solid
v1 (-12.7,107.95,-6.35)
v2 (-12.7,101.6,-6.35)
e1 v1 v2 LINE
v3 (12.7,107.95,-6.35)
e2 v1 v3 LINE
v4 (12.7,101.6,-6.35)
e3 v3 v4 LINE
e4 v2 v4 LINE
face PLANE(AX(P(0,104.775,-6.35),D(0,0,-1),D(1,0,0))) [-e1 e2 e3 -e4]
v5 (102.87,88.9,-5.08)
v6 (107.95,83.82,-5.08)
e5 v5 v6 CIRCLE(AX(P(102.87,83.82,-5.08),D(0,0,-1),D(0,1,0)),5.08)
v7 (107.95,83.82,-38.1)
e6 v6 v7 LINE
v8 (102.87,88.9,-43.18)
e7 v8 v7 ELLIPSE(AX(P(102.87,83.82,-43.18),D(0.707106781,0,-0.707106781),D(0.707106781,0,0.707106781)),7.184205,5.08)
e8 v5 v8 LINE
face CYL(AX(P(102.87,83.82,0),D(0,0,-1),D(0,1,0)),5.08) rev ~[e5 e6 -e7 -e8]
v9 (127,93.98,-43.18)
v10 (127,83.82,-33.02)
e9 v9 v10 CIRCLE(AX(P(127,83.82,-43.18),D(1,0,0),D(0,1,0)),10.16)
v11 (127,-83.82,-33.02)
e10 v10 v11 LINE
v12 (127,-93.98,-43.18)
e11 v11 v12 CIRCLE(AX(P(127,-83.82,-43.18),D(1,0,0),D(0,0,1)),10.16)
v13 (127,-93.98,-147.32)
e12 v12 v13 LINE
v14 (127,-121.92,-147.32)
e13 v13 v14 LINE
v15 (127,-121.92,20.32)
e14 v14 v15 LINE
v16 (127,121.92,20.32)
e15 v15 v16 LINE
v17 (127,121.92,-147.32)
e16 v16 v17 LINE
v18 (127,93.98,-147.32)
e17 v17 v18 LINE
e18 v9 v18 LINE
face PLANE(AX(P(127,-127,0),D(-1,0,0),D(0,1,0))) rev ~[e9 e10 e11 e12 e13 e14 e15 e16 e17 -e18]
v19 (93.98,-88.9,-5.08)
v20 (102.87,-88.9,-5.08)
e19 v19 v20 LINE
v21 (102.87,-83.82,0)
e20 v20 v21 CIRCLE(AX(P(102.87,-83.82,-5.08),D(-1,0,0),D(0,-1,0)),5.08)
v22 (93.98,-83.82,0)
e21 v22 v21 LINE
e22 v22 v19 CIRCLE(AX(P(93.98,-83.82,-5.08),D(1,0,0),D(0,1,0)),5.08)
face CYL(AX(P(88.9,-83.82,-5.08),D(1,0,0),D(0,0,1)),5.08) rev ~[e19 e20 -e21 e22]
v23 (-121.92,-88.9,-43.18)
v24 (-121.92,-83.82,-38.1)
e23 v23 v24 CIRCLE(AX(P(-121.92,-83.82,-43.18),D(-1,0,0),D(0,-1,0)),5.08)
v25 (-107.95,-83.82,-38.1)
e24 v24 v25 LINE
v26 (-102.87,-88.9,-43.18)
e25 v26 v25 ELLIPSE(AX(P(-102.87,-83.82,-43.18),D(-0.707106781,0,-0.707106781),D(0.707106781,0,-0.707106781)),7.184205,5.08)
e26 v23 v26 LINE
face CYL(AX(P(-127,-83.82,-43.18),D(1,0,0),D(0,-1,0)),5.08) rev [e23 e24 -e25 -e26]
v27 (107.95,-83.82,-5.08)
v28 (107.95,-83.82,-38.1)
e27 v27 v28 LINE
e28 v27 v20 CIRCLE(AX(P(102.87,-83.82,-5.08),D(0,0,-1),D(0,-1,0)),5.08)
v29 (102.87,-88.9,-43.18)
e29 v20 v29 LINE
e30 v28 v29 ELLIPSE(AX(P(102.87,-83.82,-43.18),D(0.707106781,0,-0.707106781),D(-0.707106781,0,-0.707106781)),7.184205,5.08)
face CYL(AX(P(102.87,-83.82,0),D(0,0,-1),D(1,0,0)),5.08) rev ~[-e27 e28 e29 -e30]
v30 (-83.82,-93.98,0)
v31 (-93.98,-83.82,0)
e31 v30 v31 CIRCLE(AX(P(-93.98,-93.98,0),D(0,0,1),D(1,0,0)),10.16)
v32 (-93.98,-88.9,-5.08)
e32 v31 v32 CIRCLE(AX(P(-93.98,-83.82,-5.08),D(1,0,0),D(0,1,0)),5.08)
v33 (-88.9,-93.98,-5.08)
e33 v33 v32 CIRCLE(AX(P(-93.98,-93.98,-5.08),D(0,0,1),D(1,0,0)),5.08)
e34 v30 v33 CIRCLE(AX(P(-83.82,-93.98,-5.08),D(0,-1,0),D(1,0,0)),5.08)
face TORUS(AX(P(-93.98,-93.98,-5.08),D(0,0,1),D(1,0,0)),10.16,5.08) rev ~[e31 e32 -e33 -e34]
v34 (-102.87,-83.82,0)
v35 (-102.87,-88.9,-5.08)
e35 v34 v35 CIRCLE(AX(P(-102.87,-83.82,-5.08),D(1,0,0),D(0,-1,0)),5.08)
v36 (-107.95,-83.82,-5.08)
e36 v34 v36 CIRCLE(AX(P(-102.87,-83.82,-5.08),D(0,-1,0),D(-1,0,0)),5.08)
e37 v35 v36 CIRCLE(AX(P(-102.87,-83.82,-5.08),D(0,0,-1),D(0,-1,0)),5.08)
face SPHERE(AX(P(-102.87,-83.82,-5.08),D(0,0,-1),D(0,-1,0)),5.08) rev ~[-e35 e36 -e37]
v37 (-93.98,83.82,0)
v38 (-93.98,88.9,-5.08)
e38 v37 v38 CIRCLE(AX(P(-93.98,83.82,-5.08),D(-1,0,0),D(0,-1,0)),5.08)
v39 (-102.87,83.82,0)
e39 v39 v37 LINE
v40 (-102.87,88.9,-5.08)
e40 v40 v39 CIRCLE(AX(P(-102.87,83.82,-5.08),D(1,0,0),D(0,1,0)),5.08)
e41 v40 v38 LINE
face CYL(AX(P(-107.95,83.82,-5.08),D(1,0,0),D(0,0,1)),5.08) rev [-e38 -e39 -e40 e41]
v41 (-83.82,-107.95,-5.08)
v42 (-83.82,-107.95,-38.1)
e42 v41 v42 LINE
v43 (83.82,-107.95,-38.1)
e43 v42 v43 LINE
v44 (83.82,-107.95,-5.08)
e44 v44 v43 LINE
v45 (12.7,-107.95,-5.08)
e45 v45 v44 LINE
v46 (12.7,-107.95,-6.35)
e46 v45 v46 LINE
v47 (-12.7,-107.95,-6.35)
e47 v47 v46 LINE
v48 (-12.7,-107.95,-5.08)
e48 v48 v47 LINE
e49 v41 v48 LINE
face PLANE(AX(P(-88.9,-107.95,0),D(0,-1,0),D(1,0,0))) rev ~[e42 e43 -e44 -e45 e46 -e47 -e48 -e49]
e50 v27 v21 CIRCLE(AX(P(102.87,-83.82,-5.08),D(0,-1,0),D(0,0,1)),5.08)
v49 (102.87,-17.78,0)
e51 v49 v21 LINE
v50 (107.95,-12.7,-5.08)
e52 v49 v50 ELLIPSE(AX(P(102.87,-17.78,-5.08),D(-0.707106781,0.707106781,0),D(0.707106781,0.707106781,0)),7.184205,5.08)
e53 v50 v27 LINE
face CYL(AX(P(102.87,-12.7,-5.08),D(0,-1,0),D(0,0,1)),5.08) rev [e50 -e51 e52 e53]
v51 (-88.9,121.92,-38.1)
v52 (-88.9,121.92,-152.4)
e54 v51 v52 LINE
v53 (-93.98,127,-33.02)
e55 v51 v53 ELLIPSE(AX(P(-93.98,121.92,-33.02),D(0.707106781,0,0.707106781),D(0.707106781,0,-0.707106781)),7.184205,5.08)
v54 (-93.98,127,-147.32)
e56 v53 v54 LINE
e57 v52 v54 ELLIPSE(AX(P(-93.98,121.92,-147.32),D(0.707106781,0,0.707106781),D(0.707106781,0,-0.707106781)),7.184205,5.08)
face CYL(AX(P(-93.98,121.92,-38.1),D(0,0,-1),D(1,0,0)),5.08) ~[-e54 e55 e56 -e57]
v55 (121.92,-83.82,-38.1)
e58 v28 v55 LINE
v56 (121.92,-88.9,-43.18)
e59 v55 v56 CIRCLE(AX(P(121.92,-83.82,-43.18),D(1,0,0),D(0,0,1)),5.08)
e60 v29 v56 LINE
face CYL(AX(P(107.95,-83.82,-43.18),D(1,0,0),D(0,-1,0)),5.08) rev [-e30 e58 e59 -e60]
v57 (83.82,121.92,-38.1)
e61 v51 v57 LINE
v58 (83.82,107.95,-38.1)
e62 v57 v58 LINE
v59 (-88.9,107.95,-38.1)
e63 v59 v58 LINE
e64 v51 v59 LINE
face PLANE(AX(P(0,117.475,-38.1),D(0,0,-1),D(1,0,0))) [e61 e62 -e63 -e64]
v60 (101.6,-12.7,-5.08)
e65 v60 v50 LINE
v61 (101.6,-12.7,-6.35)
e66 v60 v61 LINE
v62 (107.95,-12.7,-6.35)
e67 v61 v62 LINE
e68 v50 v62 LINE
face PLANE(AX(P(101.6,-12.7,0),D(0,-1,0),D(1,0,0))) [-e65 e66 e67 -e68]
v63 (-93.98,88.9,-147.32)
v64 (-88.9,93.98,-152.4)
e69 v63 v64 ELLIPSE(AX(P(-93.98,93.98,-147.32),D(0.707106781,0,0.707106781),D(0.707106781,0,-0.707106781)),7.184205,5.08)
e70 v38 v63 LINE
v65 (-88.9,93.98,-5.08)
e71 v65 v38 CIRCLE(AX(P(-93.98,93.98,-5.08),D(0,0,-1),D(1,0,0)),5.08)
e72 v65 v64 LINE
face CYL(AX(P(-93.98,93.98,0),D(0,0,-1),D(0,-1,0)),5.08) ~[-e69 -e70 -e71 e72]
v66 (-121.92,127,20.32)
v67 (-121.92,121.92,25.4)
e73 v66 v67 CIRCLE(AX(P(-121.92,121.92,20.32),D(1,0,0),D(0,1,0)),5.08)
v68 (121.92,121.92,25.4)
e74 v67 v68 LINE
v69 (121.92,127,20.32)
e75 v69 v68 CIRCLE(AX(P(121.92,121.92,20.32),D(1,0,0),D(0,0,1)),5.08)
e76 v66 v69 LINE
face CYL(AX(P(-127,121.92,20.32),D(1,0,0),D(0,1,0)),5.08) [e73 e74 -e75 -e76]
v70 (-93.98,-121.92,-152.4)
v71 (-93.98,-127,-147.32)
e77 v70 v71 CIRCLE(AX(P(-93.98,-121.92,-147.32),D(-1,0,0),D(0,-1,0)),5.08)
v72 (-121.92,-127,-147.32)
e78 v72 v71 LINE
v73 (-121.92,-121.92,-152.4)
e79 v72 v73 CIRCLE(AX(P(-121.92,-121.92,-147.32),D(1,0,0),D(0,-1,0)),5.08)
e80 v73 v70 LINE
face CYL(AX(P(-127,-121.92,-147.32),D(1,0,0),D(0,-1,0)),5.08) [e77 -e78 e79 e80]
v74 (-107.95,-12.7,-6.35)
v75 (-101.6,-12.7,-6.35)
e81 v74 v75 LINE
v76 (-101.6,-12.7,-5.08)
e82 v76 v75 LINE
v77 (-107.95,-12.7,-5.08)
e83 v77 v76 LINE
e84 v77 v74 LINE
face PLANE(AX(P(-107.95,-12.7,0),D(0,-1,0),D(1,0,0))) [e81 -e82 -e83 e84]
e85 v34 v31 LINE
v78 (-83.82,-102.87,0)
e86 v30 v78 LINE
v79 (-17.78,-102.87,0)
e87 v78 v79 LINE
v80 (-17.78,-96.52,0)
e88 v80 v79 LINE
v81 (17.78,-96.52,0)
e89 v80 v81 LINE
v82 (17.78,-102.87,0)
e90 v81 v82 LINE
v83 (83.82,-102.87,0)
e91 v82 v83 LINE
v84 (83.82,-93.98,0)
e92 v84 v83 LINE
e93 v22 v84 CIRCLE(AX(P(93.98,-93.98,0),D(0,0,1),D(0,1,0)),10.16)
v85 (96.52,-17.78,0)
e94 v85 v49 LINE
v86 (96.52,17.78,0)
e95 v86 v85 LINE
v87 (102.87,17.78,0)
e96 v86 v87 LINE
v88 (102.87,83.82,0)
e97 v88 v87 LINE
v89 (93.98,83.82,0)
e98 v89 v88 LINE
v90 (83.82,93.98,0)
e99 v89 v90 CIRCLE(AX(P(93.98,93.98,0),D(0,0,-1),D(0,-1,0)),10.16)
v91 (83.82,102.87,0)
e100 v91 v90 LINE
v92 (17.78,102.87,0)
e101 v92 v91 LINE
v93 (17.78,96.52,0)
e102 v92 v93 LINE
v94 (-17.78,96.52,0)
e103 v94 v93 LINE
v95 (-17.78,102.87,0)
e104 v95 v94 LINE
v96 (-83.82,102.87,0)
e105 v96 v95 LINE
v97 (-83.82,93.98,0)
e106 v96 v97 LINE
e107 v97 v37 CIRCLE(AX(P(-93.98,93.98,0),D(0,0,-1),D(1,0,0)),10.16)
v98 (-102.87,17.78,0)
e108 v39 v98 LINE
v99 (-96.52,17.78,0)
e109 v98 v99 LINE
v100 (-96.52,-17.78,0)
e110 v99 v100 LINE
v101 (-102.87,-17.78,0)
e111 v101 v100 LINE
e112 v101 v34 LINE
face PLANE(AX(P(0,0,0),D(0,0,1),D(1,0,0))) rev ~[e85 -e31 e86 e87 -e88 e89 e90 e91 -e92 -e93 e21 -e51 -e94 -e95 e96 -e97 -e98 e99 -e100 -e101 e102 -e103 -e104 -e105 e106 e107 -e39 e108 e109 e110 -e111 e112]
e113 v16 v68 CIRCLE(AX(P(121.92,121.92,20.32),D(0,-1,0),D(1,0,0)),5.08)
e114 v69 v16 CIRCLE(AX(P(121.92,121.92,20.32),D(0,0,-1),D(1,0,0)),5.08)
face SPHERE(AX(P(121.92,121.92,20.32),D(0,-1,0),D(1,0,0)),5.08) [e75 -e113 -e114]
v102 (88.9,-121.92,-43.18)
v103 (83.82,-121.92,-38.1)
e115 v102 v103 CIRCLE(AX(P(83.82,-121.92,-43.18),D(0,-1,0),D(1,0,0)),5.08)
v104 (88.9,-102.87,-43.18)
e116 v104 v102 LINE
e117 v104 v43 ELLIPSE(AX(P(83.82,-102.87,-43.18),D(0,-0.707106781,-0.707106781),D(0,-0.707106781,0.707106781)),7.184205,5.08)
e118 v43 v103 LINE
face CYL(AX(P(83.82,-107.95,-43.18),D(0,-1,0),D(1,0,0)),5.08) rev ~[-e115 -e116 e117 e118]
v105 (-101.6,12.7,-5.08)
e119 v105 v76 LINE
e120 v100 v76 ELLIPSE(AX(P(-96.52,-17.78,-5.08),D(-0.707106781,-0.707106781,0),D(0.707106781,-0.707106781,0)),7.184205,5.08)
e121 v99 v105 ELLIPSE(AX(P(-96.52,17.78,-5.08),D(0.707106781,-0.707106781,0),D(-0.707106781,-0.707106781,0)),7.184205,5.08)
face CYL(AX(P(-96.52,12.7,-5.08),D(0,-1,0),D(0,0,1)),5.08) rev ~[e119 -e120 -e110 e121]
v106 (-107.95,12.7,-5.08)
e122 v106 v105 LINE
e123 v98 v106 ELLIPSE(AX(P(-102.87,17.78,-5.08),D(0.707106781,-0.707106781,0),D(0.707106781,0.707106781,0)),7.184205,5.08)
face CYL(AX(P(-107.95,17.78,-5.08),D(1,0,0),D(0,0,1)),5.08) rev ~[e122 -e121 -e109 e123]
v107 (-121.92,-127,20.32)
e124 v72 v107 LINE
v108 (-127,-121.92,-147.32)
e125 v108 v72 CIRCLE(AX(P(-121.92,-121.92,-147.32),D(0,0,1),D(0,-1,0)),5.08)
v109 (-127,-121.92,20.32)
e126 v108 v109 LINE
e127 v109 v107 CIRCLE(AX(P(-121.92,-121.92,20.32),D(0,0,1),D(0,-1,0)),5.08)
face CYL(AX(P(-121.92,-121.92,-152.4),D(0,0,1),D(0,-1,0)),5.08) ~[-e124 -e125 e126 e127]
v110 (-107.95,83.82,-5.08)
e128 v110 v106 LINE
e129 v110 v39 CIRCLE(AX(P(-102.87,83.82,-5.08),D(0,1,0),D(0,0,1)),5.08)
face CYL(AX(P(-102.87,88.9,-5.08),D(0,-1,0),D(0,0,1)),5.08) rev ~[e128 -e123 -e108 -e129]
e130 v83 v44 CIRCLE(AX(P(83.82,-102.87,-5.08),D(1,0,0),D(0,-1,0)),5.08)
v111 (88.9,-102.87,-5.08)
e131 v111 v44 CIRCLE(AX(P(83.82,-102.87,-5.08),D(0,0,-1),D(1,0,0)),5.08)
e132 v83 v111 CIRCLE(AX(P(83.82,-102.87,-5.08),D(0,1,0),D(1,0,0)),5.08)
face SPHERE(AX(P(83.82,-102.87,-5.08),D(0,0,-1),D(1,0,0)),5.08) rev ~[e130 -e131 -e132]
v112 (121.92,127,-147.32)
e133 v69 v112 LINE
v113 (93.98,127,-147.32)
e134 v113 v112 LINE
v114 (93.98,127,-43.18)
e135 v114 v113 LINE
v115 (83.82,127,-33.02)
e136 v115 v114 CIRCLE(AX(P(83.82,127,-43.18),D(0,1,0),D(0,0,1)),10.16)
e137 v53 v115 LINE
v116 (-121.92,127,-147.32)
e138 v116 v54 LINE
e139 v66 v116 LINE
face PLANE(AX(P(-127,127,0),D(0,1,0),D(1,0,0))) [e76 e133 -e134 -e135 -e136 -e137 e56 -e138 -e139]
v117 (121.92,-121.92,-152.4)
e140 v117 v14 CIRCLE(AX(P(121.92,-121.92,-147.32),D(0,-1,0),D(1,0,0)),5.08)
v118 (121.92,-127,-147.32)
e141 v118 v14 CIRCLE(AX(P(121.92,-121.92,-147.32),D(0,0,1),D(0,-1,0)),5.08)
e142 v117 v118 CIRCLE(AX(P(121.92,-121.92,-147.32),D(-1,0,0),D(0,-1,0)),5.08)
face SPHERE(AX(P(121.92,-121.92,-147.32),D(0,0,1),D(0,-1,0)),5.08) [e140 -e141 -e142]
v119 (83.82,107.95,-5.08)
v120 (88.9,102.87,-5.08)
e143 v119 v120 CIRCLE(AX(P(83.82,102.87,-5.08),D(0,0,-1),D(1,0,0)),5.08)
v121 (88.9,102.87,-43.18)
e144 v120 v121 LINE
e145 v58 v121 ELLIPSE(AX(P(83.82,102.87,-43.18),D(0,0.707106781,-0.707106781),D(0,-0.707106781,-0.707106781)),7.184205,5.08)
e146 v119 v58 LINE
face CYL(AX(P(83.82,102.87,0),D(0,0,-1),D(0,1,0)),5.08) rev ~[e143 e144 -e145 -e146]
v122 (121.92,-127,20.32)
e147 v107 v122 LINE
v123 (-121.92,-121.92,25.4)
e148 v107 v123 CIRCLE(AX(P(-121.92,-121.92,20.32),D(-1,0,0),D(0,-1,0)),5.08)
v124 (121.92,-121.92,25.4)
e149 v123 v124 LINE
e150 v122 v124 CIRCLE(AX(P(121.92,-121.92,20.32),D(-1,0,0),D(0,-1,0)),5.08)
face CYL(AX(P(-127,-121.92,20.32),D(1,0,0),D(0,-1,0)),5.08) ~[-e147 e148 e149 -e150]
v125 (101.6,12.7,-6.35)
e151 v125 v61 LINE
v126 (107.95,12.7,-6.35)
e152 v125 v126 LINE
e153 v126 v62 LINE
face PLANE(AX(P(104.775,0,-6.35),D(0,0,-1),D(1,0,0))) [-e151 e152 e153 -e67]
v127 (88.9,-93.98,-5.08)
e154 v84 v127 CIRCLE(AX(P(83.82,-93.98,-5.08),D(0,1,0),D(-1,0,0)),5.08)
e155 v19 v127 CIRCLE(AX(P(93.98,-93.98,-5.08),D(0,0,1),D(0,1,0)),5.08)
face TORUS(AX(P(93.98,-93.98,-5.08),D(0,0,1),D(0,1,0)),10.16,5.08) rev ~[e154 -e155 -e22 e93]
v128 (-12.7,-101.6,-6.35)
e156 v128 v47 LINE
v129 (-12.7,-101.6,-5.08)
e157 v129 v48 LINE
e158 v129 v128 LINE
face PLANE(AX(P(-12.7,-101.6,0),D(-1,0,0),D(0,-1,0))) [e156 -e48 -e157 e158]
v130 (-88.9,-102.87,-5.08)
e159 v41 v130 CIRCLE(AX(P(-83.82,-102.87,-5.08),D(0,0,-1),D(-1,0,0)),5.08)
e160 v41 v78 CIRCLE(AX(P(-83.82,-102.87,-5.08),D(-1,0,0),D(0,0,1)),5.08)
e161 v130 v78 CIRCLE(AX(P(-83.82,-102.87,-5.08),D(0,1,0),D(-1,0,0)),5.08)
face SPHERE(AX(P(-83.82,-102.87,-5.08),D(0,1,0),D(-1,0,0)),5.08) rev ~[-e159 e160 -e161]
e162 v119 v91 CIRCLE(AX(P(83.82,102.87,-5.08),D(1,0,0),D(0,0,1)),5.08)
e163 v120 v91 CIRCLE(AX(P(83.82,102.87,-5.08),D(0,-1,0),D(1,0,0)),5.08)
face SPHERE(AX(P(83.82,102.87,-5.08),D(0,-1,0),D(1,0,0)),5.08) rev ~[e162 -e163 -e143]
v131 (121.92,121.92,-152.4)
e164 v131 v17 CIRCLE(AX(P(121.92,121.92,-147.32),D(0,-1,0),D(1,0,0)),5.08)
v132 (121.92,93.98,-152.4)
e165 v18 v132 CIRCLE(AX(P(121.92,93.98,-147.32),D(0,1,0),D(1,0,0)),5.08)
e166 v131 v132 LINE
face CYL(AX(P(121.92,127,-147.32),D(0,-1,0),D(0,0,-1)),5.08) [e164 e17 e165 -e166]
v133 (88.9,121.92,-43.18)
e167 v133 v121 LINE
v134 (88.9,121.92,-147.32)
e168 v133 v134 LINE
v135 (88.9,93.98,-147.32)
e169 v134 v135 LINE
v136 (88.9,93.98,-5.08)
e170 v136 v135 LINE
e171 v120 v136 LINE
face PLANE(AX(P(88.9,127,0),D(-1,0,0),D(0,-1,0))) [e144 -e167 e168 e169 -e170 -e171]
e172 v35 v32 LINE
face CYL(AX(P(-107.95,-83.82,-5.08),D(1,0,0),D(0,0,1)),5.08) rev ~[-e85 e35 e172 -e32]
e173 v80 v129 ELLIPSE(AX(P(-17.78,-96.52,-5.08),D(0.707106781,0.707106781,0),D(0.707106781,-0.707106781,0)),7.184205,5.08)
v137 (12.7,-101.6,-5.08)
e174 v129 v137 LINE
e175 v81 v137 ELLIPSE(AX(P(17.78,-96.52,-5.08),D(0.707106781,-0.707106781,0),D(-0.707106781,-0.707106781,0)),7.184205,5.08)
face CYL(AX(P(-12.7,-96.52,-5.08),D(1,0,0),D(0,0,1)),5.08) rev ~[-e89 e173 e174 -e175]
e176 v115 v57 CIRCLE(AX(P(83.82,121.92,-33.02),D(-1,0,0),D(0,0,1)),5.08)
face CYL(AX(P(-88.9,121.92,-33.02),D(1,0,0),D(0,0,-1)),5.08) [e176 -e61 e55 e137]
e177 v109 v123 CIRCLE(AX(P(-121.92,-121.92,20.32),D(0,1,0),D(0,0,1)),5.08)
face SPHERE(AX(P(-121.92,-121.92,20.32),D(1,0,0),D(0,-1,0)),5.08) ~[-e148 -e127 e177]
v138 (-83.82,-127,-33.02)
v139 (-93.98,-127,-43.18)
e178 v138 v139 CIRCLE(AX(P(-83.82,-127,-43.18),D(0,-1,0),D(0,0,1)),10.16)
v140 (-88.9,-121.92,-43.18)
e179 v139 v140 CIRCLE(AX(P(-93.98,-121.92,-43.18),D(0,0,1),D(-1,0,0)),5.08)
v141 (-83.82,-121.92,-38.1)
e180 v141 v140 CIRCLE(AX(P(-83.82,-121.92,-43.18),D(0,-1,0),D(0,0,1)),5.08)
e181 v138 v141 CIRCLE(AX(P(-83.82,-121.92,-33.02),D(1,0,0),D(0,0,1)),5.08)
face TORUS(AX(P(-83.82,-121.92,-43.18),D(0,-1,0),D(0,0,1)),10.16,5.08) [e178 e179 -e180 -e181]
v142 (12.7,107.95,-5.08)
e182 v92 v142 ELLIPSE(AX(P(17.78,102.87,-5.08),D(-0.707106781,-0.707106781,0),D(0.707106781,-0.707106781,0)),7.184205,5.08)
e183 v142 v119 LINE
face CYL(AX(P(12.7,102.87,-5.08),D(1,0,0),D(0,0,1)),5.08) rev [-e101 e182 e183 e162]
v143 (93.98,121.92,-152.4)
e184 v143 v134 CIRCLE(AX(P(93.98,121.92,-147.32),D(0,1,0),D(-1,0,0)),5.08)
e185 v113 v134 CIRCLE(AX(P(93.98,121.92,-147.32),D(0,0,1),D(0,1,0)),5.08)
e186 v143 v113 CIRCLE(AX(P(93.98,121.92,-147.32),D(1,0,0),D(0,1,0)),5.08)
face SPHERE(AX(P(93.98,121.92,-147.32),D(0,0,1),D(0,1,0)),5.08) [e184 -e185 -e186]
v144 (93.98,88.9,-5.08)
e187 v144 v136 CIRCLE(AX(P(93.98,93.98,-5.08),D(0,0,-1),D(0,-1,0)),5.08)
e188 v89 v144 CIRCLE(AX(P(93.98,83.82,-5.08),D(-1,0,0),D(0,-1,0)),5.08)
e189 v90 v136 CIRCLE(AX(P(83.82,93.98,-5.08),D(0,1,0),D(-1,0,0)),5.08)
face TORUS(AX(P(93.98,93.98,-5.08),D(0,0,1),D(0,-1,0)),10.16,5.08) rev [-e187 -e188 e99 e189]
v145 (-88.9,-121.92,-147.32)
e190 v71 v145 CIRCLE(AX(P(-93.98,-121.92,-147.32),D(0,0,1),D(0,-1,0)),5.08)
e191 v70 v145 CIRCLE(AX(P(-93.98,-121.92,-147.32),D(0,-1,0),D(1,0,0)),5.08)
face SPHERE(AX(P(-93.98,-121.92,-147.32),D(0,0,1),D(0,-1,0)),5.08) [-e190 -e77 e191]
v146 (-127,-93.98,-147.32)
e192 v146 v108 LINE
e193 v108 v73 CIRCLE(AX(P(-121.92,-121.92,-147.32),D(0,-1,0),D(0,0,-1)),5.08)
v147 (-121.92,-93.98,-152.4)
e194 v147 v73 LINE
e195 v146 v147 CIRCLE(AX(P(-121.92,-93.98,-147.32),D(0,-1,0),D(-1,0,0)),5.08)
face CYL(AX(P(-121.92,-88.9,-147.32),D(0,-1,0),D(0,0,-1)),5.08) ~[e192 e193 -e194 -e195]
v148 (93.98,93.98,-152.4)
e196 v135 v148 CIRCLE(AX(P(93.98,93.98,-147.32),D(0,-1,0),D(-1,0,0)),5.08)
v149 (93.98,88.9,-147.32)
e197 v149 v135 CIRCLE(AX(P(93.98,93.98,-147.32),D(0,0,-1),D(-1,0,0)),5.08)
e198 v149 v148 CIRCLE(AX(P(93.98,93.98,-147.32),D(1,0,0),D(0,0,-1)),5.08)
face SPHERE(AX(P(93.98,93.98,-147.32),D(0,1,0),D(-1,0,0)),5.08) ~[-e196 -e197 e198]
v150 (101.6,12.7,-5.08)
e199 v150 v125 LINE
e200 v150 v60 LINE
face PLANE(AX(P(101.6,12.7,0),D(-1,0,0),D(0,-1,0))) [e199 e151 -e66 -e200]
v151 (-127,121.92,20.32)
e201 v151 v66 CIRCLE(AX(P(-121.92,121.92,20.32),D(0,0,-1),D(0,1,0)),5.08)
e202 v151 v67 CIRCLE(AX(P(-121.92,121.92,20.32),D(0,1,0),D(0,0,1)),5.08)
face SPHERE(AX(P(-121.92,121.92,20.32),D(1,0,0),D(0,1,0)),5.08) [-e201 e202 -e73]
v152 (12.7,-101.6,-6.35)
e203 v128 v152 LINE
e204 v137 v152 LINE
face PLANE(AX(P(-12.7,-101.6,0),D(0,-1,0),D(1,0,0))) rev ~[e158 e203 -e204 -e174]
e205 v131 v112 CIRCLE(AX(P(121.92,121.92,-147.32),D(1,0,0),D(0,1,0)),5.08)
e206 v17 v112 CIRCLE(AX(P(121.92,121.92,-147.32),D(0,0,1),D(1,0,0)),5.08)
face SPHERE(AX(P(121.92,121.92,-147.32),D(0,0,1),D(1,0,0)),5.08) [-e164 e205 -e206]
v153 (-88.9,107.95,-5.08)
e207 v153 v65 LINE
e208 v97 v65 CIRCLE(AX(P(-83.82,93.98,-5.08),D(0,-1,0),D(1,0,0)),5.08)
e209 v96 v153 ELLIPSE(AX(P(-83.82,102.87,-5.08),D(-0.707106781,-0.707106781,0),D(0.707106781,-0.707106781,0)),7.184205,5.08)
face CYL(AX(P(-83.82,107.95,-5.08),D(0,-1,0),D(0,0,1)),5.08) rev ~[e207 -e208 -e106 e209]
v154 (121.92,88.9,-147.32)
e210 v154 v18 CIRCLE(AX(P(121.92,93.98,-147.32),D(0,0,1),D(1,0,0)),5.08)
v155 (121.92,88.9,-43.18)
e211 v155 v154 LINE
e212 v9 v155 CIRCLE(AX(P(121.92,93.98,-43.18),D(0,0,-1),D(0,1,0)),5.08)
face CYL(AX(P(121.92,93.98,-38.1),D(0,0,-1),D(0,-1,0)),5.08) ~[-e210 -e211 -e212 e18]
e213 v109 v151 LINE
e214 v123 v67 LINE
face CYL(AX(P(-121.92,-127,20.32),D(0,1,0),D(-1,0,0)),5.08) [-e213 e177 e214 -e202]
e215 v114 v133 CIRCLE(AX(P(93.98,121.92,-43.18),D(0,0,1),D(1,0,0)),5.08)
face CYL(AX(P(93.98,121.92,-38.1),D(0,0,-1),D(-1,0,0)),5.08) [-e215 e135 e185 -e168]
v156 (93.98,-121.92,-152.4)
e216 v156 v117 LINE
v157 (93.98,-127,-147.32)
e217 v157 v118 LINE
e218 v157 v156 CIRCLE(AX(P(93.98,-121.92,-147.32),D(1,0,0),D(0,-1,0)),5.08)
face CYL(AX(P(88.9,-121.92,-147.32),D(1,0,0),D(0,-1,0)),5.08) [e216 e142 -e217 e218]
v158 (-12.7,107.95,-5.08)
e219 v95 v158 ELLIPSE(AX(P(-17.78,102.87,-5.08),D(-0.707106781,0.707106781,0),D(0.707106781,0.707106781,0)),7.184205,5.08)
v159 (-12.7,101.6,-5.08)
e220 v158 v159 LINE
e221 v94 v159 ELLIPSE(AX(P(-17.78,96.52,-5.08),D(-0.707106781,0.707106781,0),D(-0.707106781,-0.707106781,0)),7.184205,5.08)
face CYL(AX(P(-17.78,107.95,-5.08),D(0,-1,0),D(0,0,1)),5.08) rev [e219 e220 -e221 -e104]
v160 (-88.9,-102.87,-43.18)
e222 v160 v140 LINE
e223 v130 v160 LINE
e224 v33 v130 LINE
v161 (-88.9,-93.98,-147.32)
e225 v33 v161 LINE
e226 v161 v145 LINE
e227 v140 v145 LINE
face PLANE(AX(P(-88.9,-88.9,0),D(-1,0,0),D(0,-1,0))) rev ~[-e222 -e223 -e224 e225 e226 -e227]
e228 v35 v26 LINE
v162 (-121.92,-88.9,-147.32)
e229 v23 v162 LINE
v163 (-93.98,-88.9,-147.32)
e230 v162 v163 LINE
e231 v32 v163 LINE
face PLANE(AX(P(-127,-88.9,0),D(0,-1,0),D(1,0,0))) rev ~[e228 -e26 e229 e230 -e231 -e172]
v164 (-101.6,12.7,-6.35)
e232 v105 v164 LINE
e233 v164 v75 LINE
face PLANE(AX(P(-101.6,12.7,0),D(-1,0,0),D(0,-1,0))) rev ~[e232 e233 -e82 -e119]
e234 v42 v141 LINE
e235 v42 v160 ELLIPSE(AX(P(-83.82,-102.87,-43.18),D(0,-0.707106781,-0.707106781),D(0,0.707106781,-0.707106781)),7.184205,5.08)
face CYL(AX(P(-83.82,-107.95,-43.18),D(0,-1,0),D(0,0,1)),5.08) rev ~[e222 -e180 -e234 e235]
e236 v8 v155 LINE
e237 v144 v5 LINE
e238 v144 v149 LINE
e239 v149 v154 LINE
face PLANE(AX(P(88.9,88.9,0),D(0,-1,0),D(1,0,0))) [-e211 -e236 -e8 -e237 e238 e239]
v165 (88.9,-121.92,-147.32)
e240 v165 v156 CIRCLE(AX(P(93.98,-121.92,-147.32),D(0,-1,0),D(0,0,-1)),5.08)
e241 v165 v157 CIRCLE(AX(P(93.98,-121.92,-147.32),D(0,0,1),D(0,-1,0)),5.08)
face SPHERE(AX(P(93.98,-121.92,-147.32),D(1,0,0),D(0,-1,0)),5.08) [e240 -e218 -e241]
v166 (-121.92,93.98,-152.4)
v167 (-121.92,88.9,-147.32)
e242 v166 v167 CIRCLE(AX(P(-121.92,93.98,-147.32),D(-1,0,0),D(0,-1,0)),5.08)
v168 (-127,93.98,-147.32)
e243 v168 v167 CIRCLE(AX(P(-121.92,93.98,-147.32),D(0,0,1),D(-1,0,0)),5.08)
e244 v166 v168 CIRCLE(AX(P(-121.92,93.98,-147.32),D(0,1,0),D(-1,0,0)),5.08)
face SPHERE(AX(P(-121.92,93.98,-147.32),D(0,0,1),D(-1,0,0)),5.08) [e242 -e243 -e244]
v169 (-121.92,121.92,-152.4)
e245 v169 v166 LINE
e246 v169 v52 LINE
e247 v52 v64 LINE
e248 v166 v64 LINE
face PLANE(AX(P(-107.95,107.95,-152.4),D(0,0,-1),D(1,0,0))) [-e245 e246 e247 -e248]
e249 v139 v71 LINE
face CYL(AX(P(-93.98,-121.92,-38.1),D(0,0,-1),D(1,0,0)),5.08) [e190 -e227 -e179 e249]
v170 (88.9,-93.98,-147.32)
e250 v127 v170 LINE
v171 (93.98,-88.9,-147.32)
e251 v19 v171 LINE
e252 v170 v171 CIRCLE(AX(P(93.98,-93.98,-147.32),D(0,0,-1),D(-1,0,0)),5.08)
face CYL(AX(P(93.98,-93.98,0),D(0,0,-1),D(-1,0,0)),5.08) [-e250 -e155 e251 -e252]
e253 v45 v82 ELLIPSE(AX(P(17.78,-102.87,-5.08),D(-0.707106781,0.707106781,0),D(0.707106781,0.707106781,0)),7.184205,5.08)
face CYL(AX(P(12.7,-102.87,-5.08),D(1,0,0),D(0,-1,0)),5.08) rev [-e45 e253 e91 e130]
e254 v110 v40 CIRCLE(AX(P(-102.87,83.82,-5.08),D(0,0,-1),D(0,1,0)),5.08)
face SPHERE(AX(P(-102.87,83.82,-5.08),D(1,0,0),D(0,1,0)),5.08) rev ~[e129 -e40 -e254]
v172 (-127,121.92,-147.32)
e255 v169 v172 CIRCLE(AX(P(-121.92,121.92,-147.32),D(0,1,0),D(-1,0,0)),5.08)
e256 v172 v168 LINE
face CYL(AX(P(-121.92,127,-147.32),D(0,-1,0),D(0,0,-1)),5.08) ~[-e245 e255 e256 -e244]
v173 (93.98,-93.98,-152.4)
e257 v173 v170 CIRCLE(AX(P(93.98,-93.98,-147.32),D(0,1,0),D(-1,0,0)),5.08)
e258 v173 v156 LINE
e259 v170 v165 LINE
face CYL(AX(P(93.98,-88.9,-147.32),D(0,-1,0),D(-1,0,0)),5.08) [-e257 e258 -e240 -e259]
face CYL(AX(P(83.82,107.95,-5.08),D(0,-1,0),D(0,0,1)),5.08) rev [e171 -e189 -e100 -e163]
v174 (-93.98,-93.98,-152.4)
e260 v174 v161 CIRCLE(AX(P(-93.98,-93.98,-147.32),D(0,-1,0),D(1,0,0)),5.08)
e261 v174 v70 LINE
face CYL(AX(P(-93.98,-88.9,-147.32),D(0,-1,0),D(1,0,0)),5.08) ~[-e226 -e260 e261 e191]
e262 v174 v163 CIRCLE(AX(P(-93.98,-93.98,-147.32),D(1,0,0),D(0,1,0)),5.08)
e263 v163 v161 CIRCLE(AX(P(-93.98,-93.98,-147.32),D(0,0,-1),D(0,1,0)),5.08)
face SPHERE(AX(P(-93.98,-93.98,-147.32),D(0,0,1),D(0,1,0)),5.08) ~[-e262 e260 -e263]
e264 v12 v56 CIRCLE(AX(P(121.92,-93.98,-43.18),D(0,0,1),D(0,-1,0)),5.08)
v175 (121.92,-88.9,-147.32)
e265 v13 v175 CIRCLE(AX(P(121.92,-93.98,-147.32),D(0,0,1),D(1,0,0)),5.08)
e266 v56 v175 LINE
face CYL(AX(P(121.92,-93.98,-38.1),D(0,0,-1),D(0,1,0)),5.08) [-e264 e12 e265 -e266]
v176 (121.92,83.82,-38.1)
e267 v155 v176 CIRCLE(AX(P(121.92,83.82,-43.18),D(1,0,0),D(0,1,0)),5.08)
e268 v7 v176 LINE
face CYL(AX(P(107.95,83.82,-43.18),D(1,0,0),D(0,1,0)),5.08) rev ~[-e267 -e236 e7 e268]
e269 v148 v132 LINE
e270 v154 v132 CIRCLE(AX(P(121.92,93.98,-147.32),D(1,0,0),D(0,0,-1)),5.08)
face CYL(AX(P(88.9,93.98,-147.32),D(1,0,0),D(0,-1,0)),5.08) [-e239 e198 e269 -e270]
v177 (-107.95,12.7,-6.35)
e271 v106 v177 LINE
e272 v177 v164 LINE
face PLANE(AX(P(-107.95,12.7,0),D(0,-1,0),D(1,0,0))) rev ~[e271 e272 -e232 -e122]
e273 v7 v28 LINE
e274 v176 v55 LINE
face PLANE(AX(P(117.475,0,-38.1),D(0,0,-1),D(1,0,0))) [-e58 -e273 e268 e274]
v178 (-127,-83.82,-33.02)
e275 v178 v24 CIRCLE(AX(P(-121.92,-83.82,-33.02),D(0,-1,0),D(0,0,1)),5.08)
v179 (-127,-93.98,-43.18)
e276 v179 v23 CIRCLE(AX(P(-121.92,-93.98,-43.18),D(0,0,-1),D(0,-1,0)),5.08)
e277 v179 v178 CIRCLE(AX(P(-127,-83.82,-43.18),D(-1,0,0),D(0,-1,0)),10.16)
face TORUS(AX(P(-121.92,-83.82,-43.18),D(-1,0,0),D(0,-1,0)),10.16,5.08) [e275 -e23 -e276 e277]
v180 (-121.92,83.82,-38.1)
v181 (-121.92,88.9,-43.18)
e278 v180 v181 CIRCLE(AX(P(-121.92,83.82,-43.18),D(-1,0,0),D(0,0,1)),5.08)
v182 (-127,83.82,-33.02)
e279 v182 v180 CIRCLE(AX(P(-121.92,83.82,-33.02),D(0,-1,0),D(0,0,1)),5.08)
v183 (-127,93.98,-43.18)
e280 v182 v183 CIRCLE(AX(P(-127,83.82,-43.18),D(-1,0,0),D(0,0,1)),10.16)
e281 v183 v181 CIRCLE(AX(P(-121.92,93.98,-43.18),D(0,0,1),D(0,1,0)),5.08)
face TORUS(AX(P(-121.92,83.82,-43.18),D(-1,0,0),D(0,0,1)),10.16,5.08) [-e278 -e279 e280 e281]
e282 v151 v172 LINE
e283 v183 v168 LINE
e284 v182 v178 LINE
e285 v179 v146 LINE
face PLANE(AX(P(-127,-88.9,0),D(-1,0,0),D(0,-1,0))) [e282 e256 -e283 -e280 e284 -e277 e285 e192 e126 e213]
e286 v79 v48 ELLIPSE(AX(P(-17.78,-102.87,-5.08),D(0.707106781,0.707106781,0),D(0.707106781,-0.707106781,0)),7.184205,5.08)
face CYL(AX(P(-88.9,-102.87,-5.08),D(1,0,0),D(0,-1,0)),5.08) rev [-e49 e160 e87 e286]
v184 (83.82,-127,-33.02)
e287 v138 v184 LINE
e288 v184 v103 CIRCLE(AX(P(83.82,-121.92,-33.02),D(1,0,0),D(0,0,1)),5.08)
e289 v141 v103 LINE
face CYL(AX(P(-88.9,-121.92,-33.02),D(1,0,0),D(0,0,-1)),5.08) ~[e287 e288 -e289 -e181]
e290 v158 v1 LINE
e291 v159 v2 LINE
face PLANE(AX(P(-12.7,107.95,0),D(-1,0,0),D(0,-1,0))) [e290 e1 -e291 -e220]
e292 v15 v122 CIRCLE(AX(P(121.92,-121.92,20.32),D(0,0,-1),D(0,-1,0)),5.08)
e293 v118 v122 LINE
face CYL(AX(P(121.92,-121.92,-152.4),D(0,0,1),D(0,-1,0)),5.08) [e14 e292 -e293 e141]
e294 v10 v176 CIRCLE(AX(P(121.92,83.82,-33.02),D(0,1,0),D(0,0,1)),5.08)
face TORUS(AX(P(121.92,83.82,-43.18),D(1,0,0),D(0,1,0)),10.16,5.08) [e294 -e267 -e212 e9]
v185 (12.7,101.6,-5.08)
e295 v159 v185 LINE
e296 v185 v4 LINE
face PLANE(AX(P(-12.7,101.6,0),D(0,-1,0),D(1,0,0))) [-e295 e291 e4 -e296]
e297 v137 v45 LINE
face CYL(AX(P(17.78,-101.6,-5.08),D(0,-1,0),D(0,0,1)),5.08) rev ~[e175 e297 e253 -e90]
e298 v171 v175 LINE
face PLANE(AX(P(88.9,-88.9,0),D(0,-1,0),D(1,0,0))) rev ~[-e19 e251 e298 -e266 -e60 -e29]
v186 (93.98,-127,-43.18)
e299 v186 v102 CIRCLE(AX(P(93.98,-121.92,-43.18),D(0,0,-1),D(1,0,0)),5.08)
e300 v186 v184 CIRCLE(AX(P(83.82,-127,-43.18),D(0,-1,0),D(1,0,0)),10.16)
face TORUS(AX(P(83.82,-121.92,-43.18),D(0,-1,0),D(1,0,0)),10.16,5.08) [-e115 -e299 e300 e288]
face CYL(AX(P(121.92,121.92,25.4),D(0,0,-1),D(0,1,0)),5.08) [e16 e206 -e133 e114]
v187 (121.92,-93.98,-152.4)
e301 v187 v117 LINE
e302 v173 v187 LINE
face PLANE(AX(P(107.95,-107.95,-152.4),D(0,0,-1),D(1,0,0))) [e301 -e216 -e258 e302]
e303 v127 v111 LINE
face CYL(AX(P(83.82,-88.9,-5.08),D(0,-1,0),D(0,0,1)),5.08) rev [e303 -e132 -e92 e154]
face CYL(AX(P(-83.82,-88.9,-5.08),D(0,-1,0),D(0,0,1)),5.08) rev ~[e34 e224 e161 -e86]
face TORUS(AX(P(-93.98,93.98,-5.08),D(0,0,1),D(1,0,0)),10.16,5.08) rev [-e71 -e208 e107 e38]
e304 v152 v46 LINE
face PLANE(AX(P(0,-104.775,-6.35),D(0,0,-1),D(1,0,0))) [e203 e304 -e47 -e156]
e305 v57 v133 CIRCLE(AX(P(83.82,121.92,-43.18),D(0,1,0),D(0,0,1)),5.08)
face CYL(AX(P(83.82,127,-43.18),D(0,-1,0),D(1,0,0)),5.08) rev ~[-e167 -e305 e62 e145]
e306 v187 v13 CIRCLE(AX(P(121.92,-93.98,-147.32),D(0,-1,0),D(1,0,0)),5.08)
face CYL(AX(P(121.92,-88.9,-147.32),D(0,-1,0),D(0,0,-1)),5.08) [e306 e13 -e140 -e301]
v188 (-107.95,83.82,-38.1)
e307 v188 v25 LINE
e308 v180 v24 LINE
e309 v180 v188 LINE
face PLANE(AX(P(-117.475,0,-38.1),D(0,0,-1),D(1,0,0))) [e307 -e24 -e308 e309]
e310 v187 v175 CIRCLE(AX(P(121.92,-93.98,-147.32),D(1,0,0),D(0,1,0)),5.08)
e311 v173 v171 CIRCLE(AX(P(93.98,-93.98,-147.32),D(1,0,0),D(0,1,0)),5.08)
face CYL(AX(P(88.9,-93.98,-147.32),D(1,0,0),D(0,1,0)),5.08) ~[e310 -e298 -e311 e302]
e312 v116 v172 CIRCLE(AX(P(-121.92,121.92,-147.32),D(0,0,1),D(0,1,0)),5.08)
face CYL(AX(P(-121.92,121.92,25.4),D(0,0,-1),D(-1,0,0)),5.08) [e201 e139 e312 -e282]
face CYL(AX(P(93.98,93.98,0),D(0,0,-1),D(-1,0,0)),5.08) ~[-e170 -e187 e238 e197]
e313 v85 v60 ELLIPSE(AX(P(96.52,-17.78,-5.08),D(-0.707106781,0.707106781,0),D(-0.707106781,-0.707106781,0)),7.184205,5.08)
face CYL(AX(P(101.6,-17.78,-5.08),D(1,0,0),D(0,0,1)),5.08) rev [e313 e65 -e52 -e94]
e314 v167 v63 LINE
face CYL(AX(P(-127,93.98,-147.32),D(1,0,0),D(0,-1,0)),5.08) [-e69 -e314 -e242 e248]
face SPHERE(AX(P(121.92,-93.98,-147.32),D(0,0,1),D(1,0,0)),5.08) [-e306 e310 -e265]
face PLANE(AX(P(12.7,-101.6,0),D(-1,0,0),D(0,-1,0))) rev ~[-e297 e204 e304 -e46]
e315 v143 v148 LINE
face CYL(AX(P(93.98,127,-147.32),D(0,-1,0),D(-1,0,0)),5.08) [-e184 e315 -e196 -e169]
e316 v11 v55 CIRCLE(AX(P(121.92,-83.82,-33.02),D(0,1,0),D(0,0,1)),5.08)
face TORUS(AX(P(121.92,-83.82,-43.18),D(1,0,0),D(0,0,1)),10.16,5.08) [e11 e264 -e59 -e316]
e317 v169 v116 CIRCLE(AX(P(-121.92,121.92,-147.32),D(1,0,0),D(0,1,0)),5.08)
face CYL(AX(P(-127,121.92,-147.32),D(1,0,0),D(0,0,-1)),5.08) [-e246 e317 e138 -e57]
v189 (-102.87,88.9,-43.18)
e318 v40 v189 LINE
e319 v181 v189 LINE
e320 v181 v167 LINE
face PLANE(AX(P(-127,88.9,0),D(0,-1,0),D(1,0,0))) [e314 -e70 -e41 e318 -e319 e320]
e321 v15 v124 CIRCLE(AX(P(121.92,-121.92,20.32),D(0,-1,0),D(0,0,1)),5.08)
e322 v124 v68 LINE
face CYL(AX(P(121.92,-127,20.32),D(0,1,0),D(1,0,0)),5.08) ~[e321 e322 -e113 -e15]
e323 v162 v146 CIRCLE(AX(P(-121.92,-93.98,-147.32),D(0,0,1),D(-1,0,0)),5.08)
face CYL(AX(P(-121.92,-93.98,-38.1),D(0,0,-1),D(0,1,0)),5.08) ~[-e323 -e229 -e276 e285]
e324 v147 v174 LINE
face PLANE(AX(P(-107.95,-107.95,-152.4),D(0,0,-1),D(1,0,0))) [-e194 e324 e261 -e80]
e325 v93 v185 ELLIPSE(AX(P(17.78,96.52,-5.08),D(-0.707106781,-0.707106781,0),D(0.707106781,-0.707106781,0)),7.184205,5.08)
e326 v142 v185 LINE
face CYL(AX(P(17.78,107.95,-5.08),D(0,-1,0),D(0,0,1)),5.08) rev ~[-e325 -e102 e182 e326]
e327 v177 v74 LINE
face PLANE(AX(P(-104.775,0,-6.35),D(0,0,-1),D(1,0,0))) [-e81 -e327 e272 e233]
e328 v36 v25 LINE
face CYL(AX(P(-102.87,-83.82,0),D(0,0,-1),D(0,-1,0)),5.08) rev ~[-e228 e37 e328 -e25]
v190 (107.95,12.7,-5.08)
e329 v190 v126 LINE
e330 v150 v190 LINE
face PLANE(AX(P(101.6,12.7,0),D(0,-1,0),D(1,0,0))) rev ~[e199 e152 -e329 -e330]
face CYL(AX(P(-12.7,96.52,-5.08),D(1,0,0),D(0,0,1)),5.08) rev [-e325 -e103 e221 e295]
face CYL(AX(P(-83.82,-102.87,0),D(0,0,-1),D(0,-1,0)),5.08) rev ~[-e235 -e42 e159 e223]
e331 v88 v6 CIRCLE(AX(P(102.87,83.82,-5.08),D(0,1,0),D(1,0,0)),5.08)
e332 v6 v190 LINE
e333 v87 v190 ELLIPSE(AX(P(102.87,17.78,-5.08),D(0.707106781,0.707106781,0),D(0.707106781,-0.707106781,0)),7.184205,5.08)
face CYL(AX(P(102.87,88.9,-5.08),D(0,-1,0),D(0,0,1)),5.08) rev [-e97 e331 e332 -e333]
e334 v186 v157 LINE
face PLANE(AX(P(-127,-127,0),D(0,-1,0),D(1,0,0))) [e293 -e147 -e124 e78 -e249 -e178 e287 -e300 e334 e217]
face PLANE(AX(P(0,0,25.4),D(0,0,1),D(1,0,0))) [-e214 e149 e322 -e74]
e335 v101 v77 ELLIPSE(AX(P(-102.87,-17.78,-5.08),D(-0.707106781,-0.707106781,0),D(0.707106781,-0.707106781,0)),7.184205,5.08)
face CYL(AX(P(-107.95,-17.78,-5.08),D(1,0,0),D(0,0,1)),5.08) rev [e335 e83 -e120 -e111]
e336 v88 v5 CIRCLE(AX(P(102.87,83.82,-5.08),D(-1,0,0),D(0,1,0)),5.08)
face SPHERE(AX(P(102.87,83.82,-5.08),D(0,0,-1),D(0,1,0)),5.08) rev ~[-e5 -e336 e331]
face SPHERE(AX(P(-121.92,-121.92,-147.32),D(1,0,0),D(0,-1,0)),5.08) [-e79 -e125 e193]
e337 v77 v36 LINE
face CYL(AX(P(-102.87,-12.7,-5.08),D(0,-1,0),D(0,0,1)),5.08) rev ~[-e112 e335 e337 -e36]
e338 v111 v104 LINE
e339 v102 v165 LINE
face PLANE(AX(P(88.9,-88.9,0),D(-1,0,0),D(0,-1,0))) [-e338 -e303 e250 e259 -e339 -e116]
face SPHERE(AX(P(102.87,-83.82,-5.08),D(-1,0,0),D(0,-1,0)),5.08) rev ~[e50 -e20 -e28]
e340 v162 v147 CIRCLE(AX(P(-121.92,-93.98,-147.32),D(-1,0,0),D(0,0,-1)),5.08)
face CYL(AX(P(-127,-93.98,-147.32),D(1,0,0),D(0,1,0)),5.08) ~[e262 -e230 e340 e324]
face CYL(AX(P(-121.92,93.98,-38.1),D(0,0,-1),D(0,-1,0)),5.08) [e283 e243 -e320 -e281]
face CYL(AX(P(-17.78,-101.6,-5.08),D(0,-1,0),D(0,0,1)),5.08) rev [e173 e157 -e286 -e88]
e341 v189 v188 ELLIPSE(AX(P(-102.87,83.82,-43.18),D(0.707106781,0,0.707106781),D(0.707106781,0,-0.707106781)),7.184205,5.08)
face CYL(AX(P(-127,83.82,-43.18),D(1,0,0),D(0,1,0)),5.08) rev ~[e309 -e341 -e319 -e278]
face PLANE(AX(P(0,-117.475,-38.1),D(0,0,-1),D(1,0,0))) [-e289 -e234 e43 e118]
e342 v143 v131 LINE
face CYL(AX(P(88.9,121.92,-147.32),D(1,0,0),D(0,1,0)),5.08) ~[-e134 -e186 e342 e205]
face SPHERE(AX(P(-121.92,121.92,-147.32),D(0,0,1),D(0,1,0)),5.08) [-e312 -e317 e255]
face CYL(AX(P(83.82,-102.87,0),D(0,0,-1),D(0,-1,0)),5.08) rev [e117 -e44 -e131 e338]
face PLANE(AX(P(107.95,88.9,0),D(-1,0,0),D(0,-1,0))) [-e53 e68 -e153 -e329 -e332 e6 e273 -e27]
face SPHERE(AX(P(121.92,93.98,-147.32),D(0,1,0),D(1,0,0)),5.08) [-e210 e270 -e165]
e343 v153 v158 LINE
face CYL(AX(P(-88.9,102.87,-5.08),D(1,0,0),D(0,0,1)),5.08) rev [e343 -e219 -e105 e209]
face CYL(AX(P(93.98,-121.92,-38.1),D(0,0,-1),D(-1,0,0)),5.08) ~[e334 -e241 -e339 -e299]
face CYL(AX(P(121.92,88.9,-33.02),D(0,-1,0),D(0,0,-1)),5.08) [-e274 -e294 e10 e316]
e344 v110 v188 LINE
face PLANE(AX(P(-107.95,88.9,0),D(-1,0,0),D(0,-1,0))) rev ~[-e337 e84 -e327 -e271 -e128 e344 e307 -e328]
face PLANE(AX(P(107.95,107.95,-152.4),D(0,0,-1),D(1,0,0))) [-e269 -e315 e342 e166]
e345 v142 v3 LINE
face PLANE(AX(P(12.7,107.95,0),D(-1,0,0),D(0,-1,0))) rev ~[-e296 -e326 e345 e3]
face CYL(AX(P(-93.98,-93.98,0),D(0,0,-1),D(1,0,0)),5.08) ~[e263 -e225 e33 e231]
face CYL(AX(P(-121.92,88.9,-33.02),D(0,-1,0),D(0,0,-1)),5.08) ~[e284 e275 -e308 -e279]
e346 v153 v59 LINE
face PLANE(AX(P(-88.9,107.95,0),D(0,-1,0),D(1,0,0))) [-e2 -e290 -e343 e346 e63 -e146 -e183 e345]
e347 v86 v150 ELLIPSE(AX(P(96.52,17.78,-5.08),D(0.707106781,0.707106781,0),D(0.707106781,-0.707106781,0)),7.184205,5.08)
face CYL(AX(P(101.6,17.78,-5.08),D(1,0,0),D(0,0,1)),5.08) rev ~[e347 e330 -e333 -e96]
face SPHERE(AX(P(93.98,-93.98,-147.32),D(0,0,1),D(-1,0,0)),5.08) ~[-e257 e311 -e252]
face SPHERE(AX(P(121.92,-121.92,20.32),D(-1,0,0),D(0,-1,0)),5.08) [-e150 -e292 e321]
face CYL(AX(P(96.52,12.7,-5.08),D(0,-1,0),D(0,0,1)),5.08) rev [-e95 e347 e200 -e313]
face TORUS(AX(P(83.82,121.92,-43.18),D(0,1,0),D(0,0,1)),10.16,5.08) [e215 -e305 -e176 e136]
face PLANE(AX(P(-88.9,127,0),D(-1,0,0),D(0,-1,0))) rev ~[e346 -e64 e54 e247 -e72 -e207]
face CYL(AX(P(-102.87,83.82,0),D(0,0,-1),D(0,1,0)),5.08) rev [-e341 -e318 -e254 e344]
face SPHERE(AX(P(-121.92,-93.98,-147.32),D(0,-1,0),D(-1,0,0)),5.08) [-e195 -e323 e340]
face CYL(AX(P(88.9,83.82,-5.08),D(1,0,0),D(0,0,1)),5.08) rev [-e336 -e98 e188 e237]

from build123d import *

# Parameters (mm, degrees)
F0_W     = 254
F0_H     = 254
F1_DEPTH = 25.4
F2_W     = 38.1
F2_H     = 38.1
F3_DEPTH = 152.4
F4_W     = 177.8
F4_H     = 19.05
F4_W_2   = 19.05
F4_H_2   = 177.8
F5_DEPTH = 38.1
F6_W     = 6.35
F6_H     = 25.4
F6_W_2   = 25.4
F6_H_2   = 6.35
F7_DEPTH = 6.35
F8_R     = 5.08


with BuildPart() as f1:
    # F0 (on Top) → F1 (new body)
    with BuildSketch(Plane.XY):
        Rectangle(F0_W, F0_H)
    extrude(amount=F1_DEPTH)

    # F2 (on face) → F3 (join)
    with BuildSketch(Plane(origin=(0, 0, 0), x_dir=(1, 0, 0), z_dir=(0, 0, -1))):
        with Locations((-107.95, 107.95)):
            Rectangle(F2_W, F2_H)
        with Locations((107.95, 107.95)):
            Rectangle(F2_W, F2_H)
        with Locations((107.95, -107.95)):
            Rectangle(F2_W, F2_H)
        with Locations((-107.95, -107.95)):
            Rectangle(F2_W, F2_H)
    extrude(amount=F3_DEPTH)

    # F4 (on face) → F5 (join)
    with BuildSketch(Plane(origin=(0, 0, 0), x_dir=(1, 0, 0), z_dir=(0, 0, -1))):
        with Locations((0, 117.475)):
            Rectangle(F4_W, F4_H)
        with Locations((-117.475, 0)):
            Rectangle(F4_W_2, F4_H_2)
        with Locations((117.475, 0)):
            Rectangle(F4_W_2, F4_H_2)
        with Locations((0, -117.475)):
            Rectangle(F4_W, F4_H)
    extrude(amount=F5_DEPTH)

    # F6 (on face) → F7 (join)
    with BuildSketch(Plane(origin=(0, 0, 0), x_dir=(1, 0, 0), z_dir=(0, 0, -1))):
        with Locations((-104.775, 0)):
            Rectangle(F6_W, F6_H)
        with Locations((0, 104.775)):
            Rectangle(F6_W_2, F6_H_2)
        with Locations((104.775, 0)):
            Rectangle(F6_W, F6_H)
        with Locations((0, -104.775)):
            Rectangle(F6_W_2, F6_H_2)
    extrude(amount=F7_DEPTH)

    # F8
    f8_edges = [f1.edges().sort_by_distance(p)[0] for p in [
        (0, -127, 25.4),
        (127, -127, -63.5),
        (107.95, -127, -152.4),
        (88.9, -127, -95.25),
        (0, -127, -38.1),
        (-88.9, -127, -95.25),
        (-107.95, -127, -152.4),
        (-127, -127, -63.5),
        (127, 0, 25.4),
        (127, 127, -63.5),
        (127, 107.95, -152.4),
        (127, 88.9, -95.25),
        (127, 0, -38.1),
        (127, -88.9, -95.25),
        (127, -107.95, -152.4),
        (0, 127, 25.4),
        (-127, 127, -63.5),
        (-107.95, 127, -152.4),
        (-88.9, 127, -95.25),
        (0, 127, -38.1),
        (88.9, 127, -95.25),
        (107.95, 127, -152.4),
        (-127, 0, 25.4),
        (-127, -107.95, -152.4),
        (-127, -88.9, -95.25),
        (-127, 0, -38.1),
        (-127, 88.9, -95.25),
        (-127, 107.95, -152.4),
        (88.9, 98.425, 0),
        (88.9, 107.95, -19.05),
        (88.9, 117.475, -38.1),
        (88.9, 107.95, -152.4),
        (88.9, 88.9, -76.2),
        (-117.475, -88.9, -38.1),
        (-107.95, -88.9, -19.05),
        (-98.425, -88.9, 0),
        (-88.9, -88.9, -76.2),
        (-107.95, -88.9, -152.4),
        (-98.425, 88.9, 0),
        (-107.95, 88.9, -19.05),
        (-117.475, 88.9, -38.1),
        (-107.95, 88.9, -152.4),
        (-88.9, 88.9, -76.2),
        (88.9, -117.475, -38.1),
        (88.9, -107.95, -19.05),
        (88.9, -98.425, 0),
        (88.9, -88.9, -76.2),
        (88.9, -107.95, -152.4),
        (-88.9, -98.425, 0),
        (-88.9, -107.95, -19.05),
        (-88.9, -117.475, -38.1),
        (-88.9, -107.95, -152.4),
        (117.475, 88.9, -38.1),
        (107.95, 88.9, -19.05),
        (98.425, 88.9, 0),
        (107.95, 88.9, -152.4),
        (98.425, -88.9, 0),
        (107.95, -88.9, -19.05),
        (117.475, -88.9, -38.1),
        (107.95, -88.9, -152.4),
        (107.95, 50.8, 0),
        (104.775, 12.7, 0),
        (101.6, 0, 0),
        (104.775, -12.7, 0),
        (107.95, -50.8, 0),
        (50.8, -107.95, 0),
        (12.7, -104.775, 0),
        (0, -101.6, 0),
        (-12.7, -104.775, 0),
        (-50.8, -107.95, 0),
        (-107.95, -50.8, 0),
        (-104.775, -12.7, 0),
        (-101.6, 0, 0),
        (-104.775, 12.7, 0),
        (-107.95, 50.8, 0),
        (-88.9, 98.425, 0),
        (-50.8, 107.95, 0),
        (-12.7, 104.775, 0),
        (0, 101.6, 0),
        (12.7, 104.775, 0),
        (50.8, 107.95, 0),
    ]]
    fillet(f8_edges, radius=F8_R)


solid = f1.part
